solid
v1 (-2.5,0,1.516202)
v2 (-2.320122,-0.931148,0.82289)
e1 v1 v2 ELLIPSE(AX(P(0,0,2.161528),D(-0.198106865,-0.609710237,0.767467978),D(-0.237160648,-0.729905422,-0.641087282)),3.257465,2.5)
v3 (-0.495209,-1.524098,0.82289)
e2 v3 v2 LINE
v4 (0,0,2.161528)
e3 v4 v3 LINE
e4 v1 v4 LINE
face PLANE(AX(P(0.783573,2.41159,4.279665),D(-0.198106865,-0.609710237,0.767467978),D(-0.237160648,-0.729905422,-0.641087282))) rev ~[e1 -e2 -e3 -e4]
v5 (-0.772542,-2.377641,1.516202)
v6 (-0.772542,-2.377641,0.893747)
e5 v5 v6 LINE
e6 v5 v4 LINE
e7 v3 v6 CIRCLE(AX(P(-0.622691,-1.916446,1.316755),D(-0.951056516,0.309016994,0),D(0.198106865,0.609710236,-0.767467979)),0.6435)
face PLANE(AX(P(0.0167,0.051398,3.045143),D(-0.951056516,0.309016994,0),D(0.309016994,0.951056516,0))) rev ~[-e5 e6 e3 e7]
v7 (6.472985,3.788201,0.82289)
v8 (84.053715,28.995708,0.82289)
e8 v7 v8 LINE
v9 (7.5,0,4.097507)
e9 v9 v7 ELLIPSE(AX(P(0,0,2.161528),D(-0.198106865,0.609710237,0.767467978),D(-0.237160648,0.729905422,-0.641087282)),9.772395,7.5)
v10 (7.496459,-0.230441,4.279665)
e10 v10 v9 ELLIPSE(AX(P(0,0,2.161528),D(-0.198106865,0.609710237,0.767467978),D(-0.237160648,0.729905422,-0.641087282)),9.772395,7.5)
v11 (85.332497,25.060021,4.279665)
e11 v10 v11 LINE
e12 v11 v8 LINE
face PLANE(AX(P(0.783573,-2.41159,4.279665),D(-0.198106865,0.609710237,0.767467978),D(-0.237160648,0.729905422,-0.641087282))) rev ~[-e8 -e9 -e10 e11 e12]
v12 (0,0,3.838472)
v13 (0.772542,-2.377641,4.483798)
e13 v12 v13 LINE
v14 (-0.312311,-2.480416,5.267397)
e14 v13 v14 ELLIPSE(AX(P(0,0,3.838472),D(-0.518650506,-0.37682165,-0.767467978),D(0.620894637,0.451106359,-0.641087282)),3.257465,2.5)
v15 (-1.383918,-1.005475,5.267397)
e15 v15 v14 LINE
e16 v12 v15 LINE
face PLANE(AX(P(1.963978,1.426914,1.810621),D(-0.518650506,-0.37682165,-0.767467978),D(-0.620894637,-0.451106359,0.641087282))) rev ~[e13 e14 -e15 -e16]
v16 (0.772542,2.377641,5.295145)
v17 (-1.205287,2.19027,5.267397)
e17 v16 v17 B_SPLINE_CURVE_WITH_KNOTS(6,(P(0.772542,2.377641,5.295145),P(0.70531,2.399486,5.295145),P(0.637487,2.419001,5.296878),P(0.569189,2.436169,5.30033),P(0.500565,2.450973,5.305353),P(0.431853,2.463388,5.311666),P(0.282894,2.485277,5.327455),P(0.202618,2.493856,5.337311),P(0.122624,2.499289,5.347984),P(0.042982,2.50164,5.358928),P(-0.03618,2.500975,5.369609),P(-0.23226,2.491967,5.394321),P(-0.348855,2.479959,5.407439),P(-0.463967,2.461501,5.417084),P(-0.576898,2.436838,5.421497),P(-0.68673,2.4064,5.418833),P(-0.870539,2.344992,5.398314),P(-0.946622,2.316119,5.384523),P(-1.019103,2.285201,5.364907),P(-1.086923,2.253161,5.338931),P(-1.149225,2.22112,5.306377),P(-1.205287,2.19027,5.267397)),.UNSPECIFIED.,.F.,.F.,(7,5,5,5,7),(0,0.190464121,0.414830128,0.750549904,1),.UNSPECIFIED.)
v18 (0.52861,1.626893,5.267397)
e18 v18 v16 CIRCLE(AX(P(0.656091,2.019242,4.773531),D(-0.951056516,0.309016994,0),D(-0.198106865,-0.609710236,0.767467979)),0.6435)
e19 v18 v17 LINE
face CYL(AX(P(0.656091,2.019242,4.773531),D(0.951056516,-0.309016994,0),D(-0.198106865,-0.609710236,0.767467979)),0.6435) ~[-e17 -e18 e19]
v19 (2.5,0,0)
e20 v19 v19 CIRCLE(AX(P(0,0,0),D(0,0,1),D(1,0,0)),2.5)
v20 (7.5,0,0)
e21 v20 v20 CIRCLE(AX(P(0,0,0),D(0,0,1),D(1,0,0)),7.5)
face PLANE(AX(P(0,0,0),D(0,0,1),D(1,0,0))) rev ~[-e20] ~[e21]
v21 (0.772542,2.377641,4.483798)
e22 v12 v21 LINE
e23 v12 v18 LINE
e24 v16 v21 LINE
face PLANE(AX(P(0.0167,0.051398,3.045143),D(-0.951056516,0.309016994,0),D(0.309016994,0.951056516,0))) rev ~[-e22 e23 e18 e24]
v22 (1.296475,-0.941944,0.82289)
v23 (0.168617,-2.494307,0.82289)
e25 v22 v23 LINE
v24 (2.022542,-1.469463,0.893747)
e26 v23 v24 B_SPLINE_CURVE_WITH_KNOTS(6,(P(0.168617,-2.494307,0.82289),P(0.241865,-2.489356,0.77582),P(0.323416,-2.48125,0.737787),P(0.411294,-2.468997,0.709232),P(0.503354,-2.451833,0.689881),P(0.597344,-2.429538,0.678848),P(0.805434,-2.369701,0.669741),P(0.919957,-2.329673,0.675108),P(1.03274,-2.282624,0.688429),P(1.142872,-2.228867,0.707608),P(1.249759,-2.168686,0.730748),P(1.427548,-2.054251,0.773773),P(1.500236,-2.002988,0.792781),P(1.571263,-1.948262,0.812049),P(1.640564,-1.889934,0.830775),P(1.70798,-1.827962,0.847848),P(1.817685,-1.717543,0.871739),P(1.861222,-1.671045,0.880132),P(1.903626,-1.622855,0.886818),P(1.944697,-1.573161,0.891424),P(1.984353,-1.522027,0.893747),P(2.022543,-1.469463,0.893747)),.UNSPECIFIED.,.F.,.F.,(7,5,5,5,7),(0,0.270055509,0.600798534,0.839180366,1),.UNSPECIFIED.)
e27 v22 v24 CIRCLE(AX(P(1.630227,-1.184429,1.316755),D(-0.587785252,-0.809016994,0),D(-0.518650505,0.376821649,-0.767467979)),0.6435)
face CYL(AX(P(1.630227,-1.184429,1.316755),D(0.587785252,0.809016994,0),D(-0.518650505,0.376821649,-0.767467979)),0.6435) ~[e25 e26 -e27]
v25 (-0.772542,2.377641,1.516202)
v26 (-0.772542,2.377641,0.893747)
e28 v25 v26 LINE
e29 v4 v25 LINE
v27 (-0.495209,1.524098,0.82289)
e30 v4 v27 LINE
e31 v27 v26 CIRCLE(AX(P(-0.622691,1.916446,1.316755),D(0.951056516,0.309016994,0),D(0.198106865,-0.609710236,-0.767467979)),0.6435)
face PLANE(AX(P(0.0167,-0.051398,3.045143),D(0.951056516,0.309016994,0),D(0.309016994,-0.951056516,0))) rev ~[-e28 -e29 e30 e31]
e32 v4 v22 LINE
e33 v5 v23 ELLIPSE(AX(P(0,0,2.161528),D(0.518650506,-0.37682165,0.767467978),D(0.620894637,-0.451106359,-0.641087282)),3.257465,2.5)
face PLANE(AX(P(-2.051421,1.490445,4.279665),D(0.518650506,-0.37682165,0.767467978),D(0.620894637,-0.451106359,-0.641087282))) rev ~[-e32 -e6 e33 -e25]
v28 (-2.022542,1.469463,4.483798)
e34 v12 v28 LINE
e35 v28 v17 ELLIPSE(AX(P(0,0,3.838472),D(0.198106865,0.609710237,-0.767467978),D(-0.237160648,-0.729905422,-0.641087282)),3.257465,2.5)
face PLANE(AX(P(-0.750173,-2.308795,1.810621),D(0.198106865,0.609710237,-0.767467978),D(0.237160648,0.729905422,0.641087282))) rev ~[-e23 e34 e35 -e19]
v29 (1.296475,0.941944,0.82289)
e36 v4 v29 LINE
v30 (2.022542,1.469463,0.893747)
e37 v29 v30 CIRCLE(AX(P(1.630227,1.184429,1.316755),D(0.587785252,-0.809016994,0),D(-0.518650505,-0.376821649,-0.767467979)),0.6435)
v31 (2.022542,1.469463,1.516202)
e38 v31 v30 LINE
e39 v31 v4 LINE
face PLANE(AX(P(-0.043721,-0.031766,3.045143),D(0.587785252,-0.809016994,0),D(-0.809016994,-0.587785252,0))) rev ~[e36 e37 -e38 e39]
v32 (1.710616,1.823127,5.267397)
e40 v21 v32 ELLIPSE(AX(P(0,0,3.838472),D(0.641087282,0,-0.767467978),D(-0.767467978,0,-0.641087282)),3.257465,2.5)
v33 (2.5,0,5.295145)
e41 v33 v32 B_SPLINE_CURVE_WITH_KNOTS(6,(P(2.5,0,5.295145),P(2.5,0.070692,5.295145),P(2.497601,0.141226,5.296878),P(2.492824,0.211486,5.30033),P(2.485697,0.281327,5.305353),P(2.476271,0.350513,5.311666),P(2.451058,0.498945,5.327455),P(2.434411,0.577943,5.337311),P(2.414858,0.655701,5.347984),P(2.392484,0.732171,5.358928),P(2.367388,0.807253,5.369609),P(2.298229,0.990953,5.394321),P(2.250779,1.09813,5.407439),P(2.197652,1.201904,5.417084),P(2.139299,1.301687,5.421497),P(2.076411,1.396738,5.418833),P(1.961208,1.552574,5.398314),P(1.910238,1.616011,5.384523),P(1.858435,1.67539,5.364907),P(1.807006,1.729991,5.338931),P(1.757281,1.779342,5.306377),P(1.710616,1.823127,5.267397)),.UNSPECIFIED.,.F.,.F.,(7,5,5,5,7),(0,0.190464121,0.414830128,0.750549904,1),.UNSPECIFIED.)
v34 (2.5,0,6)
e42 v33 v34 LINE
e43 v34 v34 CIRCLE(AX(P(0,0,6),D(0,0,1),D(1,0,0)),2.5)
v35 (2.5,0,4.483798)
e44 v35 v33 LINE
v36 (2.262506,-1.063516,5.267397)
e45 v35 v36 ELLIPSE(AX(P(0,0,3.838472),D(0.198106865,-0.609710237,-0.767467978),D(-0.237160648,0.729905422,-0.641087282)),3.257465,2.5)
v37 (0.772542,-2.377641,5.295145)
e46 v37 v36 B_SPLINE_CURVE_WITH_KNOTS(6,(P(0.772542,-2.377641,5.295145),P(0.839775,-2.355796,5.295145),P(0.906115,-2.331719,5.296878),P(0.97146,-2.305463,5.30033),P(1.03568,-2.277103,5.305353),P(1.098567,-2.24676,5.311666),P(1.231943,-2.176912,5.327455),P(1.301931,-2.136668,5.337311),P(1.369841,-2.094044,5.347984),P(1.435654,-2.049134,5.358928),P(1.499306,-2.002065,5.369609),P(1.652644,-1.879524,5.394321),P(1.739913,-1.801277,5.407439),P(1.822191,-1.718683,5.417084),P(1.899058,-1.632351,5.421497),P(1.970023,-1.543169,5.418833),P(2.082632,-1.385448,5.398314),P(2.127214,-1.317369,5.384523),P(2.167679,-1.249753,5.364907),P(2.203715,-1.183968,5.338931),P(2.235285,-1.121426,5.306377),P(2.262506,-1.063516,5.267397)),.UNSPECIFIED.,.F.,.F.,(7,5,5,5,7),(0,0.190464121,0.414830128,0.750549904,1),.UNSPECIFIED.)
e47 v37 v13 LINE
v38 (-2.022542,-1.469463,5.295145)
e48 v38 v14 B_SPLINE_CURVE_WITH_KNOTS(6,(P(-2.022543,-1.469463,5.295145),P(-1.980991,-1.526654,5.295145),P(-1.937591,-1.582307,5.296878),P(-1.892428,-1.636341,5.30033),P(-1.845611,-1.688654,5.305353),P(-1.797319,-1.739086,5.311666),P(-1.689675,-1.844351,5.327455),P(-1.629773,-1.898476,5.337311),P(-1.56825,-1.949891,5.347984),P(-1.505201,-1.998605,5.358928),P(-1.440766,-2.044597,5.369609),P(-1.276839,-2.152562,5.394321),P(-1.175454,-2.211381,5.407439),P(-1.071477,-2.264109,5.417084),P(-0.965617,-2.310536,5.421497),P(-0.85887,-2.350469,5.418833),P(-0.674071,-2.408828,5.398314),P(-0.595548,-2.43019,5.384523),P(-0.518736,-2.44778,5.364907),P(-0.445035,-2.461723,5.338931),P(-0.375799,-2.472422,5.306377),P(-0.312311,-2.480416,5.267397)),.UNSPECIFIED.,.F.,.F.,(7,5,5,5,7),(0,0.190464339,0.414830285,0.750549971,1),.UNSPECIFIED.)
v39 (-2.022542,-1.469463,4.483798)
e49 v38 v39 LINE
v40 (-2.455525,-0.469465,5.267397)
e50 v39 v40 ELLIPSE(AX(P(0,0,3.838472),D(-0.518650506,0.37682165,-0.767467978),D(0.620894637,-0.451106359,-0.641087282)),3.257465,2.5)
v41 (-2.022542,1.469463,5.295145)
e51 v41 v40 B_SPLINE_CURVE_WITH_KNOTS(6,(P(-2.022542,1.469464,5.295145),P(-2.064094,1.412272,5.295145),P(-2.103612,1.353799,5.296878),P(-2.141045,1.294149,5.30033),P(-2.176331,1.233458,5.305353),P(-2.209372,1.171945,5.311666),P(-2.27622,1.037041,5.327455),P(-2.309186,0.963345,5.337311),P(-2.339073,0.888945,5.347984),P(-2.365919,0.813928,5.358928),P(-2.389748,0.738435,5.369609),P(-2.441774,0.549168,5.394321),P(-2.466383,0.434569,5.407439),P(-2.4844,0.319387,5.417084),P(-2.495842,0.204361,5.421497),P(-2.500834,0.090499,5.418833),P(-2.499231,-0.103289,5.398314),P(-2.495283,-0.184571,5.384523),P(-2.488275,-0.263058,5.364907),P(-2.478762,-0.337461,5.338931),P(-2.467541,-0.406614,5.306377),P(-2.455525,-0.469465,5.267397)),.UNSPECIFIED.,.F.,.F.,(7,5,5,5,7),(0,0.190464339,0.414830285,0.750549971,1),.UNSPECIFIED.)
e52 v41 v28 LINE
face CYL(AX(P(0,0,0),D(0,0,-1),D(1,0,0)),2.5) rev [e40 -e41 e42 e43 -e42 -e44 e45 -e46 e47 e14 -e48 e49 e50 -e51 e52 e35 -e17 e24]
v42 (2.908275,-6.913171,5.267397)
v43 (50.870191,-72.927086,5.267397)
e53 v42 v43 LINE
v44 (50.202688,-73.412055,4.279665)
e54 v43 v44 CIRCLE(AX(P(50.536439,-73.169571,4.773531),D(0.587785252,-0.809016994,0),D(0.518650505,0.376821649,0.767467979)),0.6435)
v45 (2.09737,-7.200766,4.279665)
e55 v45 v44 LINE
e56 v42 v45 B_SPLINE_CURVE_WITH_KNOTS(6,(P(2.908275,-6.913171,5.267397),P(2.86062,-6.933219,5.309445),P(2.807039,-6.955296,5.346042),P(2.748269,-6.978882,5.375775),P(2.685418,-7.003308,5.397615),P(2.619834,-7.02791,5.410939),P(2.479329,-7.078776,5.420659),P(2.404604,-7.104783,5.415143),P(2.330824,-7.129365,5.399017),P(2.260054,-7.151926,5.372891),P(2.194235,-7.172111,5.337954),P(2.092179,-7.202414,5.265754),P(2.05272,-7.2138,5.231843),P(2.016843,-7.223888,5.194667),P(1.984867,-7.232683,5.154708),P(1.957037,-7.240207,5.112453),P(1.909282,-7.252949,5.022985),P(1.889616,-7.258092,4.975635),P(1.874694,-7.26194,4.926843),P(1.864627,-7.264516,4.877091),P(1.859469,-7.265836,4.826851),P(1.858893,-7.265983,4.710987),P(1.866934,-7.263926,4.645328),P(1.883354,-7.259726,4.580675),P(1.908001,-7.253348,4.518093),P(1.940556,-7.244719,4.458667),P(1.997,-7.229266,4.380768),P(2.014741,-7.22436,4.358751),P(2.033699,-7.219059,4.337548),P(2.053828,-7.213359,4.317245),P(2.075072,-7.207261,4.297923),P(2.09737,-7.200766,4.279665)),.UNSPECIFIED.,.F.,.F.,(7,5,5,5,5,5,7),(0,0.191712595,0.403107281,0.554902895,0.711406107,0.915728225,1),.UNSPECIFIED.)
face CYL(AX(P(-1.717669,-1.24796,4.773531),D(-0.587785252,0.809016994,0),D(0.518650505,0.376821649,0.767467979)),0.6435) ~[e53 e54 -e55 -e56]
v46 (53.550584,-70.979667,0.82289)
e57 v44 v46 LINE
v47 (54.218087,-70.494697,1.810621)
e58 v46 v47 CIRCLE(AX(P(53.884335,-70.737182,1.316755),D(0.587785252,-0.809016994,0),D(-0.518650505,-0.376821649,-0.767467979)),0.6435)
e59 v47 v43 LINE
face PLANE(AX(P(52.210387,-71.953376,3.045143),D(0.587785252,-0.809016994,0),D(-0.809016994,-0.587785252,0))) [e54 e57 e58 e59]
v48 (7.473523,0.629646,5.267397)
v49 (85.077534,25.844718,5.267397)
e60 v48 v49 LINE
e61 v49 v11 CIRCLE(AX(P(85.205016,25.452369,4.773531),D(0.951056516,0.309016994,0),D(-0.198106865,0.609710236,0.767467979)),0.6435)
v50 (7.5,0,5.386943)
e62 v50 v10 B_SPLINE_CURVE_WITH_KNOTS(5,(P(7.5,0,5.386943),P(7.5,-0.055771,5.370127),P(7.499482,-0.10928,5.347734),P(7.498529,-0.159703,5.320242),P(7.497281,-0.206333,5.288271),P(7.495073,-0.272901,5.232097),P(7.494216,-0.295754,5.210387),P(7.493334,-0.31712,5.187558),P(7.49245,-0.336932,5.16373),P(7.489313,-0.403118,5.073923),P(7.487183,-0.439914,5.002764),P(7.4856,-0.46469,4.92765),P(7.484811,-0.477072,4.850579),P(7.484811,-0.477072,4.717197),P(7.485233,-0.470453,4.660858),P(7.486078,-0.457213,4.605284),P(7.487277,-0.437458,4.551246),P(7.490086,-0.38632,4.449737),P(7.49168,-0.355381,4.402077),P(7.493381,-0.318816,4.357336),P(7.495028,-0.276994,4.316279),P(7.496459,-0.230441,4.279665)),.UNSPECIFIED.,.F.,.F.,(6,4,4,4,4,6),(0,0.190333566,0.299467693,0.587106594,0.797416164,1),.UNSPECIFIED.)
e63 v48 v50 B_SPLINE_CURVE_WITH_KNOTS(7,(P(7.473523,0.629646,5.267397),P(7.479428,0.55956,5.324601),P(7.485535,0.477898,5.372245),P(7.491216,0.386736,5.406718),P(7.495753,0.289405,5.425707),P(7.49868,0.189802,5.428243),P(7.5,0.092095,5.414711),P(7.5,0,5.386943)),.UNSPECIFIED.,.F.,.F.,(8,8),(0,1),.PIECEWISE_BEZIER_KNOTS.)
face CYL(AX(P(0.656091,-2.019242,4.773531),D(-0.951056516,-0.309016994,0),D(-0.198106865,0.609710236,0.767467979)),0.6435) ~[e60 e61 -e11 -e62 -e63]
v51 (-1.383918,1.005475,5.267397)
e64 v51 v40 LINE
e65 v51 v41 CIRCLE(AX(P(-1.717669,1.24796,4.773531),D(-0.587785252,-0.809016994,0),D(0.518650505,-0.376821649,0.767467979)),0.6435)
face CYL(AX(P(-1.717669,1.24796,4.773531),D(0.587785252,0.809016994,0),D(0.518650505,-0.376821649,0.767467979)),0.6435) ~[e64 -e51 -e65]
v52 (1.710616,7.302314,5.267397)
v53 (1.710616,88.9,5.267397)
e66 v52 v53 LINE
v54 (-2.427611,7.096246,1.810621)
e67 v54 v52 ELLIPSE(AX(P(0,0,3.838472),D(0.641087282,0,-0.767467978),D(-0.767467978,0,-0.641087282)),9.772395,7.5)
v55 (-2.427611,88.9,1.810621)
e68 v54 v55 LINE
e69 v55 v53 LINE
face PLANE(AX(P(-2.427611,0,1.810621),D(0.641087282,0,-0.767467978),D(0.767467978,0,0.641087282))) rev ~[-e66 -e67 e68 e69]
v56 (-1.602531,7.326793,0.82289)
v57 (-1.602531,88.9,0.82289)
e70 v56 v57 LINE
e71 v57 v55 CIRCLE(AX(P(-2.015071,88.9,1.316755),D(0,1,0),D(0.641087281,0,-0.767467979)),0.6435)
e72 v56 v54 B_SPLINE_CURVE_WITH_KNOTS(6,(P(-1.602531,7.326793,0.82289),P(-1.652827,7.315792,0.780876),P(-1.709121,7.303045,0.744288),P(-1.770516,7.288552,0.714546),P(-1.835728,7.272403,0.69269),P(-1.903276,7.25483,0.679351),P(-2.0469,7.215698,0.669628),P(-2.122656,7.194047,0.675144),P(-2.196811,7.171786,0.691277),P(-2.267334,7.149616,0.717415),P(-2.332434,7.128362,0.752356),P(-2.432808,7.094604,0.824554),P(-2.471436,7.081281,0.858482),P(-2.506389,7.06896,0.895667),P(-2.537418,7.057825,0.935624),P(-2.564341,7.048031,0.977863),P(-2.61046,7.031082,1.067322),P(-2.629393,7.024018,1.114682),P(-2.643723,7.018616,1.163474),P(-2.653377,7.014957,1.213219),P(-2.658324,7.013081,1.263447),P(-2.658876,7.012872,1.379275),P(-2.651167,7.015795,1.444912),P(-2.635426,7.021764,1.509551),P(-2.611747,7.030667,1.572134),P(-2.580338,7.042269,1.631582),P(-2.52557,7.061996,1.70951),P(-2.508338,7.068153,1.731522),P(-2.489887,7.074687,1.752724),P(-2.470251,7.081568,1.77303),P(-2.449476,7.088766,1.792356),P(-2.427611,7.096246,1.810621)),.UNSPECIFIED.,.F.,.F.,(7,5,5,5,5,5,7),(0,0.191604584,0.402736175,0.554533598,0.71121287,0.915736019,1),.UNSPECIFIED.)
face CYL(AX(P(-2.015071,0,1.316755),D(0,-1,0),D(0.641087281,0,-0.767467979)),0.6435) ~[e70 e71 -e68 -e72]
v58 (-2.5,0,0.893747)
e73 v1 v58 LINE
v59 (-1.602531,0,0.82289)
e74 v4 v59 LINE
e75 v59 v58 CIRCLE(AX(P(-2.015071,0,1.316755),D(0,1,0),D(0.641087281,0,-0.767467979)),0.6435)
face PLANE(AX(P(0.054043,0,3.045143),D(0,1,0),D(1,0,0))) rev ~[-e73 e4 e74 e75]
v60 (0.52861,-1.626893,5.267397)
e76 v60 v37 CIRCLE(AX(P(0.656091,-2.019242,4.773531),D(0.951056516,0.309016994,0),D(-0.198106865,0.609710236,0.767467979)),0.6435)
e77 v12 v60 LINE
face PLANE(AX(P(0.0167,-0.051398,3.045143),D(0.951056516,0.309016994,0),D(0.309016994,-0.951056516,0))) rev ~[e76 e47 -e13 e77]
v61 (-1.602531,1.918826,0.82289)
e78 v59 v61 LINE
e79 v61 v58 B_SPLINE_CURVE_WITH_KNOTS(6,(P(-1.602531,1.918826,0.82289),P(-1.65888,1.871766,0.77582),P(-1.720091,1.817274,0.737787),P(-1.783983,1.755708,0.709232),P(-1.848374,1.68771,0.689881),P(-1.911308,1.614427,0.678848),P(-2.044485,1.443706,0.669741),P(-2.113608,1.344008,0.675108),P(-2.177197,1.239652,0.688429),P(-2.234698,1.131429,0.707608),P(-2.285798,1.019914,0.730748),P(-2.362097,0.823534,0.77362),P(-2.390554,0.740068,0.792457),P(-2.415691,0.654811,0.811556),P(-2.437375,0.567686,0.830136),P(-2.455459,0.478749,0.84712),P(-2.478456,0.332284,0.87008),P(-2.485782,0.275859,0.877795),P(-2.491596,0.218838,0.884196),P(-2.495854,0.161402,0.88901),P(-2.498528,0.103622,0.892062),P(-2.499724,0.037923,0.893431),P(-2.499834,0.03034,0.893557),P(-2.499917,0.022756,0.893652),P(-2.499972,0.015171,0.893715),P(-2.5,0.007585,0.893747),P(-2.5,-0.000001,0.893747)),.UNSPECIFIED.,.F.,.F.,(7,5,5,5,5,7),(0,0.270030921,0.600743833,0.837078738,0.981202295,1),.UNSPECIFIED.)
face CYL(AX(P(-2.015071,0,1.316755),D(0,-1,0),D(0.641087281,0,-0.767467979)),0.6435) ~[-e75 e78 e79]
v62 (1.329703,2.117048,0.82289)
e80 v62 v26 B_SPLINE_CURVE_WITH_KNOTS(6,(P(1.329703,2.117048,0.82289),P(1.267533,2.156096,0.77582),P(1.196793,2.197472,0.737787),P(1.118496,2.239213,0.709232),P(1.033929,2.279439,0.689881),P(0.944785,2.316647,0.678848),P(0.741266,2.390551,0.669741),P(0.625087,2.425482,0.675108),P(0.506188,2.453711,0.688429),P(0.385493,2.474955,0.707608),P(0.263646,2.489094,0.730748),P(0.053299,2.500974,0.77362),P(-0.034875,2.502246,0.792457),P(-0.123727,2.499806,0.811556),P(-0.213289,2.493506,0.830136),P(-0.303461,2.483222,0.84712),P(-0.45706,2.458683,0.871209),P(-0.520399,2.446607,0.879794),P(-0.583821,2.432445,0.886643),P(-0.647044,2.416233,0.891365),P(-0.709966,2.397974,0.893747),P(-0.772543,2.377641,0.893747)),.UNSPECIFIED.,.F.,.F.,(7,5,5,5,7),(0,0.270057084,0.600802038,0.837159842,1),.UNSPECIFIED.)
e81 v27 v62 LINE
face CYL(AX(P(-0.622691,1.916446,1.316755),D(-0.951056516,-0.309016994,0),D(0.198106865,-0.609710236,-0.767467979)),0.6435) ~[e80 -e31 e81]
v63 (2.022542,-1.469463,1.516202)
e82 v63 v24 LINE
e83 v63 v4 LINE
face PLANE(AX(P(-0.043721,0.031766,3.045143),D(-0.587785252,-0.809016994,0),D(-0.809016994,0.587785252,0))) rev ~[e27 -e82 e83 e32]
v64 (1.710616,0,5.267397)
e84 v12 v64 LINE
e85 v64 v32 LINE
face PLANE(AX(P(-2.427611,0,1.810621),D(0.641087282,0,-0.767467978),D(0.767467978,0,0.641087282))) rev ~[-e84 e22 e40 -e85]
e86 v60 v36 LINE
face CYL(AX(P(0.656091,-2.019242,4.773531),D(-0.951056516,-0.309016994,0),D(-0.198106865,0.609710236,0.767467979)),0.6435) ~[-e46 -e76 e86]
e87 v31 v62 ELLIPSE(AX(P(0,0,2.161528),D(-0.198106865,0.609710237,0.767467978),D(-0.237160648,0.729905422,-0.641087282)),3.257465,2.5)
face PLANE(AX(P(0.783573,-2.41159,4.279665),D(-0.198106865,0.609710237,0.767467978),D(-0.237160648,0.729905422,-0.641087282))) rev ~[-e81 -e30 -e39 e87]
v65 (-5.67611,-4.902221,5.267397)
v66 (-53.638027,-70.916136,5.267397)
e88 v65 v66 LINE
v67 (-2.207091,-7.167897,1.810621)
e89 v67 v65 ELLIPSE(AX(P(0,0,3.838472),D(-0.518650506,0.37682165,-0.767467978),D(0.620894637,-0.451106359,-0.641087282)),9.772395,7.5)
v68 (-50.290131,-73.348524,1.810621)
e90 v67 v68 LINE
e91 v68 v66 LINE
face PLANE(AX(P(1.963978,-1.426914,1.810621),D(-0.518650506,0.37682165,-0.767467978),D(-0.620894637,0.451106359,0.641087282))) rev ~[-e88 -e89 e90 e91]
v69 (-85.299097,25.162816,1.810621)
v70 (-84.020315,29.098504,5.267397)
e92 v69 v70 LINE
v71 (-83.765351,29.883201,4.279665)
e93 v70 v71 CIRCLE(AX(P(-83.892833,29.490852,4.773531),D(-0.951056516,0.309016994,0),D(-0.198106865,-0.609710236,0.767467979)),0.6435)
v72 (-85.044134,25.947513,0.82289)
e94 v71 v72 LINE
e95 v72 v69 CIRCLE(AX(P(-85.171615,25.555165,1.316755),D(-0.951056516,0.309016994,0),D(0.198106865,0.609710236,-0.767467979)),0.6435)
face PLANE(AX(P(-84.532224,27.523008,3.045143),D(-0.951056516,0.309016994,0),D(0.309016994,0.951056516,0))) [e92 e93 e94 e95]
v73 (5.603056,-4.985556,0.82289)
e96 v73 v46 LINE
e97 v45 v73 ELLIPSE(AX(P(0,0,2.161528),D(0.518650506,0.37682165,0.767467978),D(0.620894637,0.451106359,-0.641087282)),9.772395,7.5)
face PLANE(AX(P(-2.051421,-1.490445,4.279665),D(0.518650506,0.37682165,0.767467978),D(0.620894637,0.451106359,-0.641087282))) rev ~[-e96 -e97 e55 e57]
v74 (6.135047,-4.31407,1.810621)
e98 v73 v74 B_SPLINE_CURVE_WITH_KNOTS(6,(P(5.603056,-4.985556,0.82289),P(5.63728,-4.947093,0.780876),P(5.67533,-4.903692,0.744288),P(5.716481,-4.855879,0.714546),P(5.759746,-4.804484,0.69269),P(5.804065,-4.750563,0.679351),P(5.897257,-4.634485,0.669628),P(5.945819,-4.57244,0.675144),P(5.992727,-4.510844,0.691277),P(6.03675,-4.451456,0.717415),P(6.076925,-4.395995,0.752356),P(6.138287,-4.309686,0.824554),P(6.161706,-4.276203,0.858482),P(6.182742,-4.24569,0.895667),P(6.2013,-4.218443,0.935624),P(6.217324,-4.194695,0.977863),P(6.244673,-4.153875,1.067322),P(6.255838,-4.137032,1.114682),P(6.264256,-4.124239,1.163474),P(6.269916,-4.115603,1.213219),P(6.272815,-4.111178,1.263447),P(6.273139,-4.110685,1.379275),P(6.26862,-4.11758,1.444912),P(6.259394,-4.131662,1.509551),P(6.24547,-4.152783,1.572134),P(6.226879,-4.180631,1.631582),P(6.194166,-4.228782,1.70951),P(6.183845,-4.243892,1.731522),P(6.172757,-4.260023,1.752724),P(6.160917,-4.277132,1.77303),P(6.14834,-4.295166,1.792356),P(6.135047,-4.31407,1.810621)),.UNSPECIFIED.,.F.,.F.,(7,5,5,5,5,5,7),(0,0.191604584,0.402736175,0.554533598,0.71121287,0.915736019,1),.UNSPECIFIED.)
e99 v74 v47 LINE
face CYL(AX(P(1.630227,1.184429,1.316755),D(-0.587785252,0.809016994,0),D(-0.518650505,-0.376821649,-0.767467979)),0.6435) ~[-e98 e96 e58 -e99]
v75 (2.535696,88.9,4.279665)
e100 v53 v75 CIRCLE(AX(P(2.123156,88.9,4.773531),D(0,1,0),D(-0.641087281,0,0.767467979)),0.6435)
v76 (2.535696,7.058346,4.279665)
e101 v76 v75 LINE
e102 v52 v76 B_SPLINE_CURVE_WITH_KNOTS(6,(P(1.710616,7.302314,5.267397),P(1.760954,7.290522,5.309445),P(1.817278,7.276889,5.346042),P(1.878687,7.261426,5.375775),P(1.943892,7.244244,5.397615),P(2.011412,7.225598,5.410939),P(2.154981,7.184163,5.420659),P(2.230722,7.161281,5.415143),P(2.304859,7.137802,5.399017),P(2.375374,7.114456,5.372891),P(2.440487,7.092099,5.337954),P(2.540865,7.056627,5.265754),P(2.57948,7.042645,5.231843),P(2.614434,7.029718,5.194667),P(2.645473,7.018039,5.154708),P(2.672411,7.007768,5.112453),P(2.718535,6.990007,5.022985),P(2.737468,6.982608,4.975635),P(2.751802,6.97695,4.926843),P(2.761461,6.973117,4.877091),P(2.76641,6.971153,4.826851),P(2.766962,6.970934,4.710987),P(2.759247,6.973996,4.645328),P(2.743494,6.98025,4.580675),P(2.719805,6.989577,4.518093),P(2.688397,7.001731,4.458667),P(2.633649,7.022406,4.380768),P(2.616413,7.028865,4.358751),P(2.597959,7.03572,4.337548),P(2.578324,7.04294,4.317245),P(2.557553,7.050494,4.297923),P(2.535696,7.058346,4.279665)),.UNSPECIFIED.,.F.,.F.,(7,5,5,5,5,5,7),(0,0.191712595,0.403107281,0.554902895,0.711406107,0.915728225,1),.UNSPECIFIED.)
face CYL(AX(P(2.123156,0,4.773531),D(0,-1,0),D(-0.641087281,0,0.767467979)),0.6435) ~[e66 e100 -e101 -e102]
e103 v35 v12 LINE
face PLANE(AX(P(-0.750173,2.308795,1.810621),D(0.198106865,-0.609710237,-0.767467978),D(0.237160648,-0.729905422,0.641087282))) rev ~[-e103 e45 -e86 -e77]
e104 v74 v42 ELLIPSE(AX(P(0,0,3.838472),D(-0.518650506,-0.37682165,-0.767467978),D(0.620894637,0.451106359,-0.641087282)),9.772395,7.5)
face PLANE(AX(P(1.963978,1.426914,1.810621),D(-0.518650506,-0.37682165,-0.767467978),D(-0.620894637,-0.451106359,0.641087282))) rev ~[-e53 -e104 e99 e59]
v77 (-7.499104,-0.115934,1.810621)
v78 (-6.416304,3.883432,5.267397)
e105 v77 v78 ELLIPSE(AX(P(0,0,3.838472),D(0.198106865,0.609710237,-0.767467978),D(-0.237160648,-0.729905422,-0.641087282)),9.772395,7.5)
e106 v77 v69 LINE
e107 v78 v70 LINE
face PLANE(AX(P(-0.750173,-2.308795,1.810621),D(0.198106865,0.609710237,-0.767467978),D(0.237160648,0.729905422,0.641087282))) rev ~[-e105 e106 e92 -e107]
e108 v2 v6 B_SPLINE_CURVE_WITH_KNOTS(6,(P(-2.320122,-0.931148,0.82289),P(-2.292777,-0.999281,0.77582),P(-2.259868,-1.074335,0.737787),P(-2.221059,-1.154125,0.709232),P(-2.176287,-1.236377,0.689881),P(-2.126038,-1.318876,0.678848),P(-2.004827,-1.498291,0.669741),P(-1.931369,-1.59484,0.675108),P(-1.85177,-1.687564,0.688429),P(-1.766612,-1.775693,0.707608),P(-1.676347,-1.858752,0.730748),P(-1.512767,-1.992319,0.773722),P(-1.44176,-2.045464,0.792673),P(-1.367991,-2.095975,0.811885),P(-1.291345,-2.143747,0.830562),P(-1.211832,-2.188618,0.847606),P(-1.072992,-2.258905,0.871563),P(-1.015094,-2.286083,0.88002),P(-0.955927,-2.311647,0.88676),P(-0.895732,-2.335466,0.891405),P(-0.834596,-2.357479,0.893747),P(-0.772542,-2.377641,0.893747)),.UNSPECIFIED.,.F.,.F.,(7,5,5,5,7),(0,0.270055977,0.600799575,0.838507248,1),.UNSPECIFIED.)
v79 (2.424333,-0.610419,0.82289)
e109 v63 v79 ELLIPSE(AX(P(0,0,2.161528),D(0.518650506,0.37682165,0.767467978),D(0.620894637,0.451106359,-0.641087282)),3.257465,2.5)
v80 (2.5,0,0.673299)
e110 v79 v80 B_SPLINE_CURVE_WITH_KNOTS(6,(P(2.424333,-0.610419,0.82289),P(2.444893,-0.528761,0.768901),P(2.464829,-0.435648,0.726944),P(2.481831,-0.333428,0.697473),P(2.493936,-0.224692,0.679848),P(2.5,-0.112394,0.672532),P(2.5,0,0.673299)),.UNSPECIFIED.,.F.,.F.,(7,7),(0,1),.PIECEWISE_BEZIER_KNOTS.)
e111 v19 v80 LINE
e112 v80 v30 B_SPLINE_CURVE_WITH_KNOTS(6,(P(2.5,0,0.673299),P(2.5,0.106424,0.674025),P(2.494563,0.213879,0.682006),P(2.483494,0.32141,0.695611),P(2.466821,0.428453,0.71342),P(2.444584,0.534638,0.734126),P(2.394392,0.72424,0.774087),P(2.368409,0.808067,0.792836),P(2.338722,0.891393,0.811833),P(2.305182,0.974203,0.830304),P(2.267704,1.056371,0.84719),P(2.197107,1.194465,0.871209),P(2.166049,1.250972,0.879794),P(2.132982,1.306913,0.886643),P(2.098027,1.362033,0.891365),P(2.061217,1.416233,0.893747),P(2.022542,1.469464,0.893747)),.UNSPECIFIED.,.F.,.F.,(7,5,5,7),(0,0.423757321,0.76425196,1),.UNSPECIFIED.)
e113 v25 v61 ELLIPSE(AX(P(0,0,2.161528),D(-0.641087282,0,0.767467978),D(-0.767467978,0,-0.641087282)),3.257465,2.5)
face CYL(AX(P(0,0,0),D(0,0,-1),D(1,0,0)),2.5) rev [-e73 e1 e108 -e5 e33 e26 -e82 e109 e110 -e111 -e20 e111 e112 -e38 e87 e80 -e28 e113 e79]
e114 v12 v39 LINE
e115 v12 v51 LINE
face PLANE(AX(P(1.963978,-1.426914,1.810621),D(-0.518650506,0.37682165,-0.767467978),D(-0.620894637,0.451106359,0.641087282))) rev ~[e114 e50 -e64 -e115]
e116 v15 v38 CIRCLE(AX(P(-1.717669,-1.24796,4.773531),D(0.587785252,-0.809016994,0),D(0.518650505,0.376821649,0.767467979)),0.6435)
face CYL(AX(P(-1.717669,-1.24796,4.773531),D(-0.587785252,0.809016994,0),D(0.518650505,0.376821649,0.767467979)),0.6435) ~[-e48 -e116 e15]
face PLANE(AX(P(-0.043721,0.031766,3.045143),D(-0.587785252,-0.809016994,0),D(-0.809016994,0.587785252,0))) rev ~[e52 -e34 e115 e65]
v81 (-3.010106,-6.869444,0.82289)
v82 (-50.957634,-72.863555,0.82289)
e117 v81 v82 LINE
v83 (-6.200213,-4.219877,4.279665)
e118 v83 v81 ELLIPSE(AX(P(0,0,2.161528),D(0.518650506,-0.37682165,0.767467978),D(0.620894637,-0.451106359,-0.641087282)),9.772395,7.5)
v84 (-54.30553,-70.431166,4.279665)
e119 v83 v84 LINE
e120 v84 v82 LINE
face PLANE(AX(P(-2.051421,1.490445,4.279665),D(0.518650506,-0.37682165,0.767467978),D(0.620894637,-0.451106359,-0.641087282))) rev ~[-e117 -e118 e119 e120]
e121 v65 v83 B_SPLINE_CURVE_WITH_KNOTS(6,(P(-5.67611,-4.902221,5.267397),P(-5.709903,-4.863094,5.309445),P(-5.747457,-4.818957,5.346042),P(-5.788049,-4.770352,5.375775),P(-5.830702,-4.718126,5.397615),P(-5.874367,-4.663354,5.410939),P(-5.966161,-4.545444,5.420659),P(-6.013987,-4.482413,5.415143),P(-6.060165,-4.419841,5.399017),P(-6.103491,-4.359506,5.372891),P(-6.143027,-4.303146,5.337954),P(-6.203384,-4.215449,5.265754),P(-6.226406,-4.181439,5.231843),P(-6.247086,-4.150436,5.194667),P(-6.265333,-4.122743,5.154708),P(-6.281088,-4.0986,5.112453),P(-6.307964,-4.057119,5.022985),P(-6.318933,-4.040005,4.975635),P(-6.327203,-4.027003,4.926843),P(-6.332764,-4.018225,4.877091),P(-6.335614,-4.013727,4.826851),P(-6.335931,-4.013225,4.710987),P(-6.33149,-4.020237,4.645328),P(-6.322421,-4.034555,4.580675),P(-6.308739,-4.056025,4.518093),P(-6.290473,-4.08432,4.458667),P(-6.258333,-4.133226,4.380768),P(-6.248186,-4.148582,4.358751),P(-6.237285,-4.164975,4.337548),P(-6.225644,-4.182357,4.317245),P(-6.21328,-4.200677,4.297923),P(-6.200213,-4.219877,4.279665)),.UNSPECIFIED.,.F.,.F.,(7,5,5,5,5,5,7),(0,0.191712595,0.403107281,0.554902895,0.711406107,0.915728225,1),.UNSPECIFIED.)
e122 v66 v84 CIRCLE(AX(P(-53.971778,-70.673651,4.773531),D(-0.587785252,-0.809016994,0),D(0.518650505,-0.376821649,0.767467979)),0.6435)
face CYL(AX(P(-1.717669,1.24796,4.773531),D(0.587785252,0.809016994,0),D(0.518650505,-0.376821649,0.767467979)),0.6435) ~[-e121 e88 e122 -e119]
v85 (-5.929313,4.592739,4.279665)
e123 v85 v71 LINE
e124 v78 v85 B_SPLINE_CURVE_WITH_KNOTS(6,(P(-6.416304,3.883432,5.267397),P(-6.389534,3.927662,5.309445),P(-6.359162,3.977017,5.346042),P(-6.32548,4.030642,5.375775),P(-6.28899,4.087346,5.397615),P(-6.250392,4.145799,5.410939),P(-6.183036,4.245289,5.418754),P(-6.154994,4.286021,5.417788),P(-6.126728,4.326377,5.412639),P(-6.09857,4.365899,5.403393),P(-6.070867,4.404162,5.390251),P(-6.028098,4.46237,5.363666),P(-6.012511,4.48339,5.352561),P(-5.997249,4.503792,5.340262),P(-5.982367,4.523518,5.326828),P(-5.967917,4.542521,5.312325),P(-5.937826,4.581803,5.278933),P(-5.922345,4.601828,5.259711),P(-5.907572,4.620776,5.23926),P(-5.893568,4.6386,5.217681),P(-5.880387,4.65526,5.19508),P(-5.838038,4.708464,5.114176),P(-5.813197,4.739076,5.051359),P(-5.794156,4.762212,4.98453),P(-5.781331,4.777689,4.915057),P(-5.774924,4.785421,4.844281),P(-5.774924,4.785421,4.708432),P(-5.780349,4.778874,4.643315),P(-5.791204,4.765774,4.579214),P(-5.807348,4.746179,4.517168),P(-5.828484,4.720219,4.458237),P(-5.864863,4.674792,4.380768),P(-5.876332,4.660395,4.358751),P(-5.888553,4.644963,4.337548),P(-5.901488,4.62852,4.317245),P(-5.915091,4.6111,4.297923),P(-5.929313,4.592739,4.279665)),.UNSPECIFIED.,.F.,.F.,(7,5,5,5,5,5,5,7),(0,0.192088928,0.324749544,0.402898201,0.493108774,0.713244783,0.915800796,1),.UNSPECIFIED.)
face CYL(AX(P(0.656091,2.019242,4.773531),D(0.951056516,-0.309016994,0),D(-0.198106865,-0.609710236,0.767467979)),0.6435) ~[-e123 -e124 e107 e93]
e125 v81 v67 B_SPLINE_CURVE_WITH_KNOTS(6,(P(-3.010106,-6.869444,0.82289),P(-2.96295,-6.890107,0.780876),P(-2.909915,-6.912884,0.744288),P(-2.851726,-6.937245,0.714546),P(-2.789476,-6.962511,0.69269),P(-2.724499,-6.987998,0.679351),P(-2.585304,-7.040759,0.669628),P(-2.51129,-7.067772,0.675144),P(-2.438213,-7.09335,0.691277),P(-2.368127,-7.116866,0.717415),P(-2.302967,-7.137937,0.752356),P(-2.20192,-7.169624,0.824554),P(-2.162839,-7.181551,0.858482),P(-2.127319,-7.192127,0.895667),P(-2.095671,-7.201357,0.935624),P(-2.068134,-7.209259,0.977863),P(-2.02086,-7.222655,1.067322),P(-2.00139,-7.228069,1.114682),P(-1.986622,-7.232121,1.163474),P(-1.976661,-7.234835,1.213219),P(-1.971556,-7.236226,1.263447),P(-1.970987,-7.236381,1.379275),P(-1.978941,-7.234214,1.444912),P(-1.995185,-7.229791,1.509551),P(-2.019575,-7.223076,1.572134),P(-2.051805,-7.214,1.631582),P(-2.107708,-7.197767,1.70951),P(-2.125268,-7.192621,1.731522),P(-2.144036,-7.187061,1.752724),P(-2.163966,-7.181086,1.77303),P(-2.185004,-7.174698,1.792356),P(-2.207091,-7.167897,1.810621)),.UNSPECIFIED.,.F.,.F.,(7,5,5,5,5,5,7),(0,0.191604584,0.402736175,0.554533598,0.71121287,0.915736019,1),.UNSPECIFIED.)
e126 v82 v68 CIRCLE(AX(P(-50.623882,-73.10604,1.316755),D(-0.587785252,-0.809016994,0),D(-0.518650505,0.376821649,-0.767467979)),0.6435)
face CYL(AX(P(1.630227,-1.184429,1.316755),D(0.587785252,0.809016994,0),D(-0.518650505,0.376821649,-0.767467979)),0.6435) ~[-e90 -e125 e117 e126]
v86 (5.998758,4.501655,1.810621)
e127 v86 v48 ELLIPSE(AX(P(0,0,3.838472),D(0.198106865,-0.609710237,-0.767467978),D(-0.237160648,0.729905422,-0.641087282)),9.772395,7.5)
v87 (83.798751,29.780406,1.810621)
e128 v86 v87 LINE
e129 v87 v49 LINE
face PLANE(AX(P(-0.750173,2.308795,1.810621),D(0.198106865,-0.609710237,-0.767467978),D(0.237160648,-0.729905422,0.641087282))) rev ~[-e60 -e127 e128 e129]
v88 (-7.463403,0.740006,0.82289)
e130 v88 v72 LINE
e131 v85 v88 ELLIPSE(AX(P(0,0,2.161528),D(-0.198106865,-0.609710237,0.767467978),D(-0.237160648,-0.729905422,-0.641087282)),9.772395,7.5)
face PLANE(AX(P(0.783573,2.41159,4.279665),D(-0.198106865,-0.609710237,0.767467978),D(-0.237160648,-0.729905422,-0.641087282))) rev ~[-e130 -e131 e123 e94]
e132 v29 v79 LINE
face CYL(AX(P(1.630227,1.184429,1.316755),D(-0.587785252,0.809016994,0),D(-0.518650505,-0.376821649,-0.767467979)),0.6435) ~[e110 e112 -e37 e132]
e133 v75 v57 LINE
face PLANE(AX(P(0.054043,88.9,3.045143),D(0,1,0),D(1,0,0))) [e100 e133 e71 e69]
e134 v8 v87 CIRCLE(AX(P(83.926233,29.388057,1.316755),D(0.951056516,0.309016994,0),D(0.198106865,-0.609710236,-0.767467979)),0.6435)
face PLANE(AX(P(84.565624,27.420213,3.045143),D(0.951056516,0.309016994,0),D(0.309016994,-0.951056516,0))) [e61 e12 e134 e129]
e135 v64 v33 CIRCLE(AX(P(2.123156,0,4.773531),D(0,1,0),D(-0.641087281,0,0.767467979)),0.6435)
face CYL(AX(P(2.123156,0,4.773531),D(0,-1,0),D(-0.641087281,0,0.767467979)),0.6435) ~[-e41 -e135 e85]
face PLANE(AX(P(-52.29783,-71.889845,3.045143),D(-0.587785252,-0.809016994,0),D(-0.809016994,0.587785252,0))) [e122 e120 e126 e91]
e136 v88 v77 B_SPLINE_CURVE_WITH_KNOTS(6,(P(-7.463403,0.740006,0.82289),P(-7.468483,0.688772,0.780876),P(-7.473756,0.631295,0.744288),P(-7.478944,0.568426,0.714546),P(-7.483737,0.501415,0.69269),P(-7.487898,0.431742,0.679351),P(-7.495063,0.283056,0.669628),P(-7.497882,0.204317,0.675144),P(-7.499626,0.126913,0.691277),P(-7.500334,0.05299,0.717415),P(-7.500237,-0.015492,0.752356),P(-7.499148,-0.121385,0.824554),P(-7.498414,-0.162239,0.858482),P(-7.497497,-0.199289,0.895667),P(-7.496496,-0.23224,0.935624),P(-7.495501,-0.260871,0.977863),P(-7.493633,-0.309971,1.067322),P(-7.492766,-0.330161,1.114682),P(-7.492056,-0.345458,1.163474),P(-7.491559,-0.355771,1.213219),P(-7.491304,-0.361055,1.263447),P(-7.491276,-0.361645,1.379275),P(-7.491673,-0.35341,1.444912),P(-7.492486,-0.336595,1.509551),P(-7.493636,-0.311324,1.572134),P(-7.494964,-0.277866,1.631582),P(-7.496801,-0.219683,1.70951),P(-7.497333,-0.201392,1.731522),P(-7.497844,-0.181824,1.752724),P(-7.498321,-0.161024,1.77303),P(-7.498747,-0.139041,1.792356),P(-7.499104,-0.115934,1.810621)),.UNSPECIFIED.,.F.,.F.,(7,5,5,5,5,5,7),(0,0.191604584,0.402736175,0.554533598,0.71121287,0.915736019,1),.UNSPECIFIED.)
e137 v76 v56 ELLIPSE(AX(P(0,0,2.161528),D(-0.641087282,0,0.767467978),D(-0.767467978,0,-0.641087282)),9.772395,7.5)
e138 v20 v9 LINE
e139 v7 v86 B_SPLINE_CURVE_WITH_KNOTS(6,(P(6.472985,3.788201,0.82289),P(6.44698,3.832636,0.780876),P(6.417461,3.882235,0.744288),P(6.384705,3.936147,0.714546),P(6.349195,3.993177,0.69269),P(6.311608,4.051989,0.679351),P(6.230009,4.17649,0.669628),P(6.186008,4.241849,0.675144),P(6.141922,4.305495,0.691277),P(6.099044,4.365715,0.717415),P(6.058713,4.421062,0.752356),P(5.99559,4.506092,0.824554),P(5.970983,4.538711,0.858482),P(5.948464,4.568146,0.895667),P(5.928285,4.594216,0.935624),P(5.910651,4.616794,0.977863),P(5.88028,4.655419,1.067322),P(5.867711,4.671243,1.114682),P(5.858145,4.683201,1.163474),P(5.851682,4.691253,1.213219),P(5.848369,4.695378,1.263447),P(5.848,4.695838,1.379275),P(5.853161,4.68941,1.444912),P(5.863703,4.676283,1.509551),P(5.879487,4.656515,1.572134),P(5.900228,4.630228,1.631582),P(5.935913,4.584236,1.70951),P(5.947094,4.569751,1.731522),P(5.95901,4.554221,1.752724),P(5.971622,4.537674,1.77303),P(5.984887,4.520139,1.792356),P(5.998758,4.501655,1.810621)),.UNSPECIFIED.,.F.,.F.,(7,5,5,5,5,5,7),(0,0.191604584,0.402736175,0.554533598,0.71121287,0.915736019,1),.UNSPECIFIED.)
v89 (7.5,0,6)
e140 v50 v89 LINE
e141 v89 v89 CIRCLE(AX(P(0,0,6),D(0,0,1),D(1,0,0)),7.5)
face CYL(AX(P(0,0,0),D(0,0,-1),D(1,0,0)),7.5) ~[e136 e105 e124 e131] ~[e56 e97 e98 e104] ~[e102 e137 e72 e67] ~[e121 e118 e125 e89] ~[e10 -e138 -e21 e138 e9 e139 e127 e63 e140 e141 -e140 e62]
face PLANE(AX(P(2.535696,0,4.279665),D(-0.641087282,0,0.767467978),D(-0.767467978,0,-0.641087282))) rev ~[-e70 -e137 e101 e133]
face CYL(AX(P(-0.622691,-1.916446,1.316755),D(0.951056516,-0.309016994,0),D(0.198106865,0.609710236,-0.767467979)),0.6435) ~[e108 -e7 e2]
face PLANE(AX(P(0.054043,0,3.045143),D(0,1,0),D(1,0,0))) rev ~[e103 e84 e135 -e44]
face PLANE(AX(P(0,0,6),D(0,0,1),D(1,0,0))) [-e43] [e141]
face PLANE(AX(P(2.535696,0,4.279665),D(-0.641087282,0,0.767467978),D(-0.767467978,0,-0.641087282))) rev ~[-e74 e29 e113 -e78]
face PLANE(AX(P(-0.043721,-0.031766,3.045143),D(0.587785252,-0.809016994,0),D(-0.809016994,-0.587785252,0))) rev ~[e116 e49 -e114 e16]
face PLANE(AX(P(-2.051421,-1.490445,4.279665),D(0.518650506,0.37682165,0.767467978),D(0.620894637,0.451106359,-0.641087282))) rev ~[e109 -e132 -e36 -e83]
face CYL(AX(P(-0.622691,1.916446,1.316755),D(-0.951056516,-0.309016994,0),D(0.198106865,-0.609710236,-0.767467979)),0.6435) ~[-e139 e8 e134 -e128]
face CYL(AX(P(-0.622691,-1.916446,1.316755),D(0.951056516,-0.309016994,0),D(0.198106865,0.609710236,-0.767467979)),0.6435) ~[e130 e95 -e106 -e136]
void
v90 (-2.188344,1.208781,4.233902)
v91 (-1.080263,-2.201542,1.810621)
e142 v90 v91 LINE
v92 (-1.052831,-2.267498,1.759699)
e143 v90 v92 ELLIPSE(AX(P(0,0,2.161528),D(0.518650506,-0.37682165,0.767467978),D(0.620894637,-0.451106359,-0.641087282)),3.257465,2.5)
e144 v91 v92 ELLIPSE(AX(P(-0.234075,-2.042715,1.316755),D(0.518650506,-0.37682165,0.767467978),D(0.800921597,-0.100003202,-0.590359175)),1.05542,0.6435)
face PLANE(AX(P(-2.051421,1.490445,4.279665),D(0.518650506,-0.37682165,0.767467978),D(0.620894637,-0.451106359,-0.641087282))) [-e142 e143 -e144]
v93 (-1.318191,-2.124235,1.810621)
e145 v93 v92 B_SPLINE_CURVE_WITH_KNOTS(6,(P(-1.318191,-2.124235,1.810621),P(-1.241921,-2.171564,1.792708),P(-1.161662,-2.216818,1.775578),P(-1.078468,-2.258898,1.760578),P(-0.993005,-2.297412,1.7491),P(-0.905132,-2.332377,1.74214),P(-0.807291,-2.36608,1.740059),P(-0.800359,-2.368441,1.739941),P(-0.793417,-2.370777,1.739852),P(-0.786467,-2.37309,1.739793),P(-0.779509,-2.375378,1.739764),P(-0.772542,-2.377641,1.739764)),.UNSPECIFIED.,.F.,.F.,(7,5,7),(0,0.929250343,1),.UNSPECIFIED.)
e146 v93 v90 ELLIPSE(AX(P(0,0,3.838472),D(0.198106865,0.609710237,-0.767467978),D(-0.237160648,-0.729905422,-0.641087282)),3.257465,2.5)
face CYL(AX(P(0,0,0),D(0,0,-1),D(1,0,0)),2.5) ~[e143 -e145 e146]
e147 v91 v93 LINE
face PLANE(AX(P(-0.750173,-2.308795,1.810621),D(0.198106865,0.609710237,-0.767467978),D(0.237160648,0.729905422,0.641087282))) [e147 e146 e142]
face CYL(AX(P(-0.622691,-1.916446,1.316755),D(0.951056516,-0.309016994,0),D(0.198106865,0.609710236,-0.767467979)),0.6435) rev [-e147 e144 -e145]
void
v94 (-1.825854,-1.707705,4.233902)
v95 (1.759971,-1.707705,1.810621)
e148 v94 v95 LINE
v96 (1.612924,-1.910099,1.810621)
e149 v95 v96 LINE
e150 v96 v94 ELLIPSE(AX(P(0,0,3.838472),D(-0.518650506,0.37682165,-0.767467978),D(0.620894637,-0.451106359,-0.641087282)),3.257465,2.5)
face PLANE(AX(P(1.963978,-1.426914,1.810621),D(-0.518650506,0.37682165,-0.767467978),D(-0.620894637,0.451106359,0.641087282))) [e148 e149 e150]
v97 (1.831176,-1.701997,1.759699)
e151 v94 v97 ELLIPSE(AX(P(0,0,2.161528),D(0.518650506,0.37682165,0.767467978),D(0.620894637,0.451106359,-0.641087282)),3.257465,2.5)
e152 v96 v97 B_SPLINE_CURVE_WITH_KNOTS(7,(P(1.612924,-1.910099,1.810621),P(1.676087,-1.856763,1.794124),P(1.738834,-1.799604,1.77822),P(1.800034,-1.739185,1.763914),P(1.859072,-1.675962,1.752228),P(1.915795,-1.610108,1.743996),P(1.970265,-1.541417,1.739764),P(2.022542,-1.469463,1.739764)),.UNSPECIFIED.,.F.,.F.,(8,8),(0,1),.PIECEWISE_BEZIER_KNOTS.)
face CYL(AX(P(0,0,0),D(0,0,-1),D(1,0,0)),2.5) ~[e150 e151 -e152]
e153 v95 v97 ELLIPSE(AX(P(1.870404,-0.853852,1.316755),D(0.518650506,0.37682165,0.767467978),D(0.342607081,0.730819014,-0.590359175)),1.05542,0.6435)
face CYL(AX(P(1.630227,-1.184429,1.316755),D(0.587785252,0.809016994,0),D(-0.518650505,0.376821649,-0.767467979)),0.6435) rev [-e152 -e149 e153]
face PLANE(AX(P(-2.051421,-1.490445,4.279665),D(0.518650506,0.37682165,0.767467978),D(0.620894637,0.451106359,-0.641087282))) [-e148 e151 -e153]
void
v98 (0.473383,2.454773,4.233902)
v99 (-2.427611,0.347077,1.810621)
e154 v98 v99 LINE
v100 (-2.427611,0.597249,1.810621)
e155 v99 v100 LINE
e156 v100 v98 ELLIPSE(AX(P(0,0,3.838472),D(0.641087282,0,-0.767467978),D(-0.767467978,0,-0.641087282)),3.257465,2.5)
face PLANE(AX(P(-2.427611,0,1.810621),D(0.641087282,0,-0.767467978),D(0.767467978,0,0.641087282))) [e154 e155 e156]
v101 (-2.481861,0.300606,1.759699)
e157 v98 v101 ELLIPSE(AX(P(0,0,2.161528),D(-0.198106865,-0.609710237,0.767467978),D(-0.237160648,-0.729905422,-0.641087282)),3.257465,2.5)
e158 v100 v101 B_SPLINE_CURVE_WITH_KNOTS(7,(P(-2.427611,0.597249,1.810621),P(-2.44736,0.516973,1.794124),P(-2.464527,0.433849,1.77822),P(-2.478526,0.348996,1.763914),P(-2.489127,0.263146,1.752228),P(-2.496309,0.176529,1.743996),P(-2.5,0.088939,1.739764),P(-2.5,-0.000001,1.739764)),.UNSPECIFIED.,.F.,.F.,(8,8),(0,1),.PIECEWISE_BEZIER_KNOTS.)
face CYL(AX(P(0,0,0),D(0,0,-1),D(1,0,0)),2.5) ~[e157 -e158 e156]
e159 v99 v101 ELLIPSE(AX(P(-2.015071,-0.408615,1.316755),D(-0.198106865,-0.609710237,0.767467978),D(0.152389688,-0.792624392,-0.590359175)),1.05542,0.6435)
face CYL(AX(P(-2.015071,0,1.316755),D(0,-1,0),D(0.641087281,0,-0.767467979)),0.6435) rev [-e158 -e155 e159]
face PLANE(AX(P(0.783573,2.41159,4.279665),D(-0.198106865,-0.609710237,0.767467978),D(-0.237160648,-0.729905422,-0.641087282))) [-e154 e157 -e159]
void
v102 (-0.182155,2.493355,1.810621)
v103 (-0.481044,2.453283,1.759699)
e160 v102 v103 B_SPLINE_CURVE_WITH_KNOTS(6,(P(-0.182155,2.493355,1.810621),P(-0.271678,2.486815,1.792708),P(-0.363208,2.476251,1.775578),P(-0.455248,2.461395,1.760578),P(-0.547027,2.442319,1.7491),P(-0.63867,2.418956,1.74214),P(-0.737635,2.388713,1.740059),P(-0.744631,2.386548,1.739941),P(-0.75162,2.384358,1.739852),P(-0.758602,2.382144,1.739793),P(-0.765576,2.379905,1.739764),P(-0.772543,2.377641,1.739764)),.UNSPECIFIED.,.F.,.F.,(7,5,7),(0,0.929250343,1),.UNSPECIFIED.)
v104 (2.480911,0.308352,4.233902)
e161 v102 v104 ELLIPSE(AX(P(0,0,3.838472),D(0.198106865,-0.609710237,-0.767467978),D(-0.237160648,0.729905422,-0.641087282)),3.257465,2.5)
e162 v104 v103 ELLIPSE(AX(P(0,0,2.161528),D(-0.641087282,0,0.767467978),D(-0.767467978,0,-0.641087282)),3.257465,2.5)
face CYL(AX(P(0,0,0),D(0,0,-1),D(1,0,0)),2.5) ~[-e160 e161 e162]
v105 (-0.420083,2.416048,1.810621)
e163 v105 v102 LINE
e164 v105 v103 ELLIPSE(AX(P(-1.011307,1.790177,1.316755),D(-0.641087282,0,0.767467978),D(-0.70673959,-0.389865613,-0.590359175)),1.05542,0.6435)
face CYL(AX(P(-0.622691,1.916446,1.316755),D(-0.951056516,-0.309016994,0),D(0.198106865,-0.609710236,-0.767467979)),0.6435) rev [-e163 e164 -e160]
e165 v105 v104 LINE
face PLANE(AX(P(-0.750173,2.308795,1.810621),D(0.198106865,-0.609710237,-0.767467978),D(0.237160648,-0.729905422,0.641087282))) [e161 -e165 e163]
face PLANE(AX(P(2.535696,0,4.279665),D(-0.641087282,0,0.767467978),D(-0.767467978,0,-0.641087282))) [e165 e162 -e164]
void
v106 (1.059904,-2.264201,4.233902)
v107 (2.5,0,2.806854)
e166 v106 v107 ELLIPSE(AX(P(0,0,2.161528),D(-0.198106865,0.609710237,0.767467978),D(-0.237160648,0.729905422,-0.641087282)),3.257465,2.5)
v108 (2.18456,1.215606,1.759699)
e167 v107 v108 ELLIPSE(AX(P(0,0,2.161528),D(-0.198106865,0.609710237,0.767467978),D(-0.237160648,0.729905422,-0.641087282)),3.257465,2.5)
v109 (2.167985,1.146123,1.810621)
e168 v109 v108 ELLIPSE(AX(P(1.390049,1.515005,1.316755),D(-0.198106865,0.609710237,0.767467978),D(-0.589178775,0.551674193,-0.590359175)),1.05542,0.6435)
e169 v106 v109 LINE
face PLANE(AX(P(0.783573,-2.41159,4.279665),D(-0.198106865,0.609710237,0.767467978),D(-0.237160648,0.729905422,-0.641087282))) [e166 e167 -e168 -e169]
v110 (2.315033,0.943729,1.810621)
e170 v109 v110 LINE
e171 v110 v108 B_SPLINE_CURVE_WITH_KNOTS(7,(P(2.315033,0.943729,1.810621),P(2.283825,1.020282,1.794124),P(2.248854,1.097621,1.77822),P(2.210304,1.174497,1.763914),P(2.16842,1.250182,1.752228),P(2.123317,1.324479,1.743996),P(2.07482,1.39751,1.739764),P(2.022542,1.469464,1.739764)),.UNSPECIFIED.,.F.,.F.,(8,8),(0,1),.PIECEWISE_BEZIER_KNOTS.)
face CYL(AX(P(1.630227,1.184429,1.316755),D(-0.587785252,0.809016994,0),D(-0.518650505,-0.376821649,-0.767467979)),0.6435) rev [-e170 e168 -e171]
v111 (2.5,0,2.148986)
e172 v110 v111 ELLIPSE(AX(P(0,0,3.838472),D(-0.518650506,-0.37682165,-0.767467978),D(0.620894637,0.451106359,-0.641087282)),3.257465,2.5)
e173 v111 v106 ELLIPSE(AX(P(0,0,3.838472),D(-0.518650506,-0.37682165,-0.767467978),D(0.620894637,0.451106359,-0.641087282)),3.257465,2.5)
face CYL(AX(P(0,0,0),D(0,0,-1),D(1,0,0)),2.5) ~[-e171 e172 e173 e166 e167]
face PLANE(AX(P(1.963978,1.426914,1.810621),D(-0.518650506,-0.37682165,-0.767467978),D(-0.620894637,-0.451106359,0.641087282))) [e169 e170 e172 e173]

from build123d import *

# Parameters (mm, degrees)
SKETCH1_R           = 7.5
SKETCH1_R_2         = 2.5
BOSS_EXTRUDE1_DEPTH = 6
BOSS_EXTRUDE2_DEPTH = 88.9
CIRPATTERN1_COUNT   = 5


with BuildPart() as part:
    # Sketch1 → Boss-Extrude1 (new body)
    with BuildSketch(Plane.XY):
        Circle(SKETCH1_R)
        Circle(SKETCH1_R_2, mode=Mode.SUBTRACT)
    extrude(amount=BOSS_EXTRUDE1_DEPTH)

    # Sketch3 → Boss-Extrude2 (add)
    with BuildSketch(Plane(origin=(0, 0, 0), x_dir=(1, 0, 0), z_dir=(0, 1, 0))):
        with BuildLine():
            Line((-2.427610564, -1.81062126), (1.710616437, -5.267397014))
            ThreePointArc((1.710616437, -5.267397014), (2.617021972, -5.186071015), (2.535695974, -4.27966548))
            Line((2.535695974, -4.27966548), (-1.602531027, -0.822889726))
            ThreePointArc((-1.602531027, -0.822889726), (-2.508936562, -0.904215725), (-2.427610564, -1.81062126))
        make_face()
    boss_extrude2 = extrude(amount=BOSS_EXTRUDE2_DEPTH)

    # CirPattern1: Boss-Extrude2 ×5 about axis
    cirpattern1_axis = Axis((0, 0, 0), (0, 0, 1))
    for i in range(1, CIRPATTERN1_COUNT):
        add(boss_extrude2.rotate(cirpattern1_axis, i * 360 / CIRPATTERN1_COUNT))


solid = part.part
